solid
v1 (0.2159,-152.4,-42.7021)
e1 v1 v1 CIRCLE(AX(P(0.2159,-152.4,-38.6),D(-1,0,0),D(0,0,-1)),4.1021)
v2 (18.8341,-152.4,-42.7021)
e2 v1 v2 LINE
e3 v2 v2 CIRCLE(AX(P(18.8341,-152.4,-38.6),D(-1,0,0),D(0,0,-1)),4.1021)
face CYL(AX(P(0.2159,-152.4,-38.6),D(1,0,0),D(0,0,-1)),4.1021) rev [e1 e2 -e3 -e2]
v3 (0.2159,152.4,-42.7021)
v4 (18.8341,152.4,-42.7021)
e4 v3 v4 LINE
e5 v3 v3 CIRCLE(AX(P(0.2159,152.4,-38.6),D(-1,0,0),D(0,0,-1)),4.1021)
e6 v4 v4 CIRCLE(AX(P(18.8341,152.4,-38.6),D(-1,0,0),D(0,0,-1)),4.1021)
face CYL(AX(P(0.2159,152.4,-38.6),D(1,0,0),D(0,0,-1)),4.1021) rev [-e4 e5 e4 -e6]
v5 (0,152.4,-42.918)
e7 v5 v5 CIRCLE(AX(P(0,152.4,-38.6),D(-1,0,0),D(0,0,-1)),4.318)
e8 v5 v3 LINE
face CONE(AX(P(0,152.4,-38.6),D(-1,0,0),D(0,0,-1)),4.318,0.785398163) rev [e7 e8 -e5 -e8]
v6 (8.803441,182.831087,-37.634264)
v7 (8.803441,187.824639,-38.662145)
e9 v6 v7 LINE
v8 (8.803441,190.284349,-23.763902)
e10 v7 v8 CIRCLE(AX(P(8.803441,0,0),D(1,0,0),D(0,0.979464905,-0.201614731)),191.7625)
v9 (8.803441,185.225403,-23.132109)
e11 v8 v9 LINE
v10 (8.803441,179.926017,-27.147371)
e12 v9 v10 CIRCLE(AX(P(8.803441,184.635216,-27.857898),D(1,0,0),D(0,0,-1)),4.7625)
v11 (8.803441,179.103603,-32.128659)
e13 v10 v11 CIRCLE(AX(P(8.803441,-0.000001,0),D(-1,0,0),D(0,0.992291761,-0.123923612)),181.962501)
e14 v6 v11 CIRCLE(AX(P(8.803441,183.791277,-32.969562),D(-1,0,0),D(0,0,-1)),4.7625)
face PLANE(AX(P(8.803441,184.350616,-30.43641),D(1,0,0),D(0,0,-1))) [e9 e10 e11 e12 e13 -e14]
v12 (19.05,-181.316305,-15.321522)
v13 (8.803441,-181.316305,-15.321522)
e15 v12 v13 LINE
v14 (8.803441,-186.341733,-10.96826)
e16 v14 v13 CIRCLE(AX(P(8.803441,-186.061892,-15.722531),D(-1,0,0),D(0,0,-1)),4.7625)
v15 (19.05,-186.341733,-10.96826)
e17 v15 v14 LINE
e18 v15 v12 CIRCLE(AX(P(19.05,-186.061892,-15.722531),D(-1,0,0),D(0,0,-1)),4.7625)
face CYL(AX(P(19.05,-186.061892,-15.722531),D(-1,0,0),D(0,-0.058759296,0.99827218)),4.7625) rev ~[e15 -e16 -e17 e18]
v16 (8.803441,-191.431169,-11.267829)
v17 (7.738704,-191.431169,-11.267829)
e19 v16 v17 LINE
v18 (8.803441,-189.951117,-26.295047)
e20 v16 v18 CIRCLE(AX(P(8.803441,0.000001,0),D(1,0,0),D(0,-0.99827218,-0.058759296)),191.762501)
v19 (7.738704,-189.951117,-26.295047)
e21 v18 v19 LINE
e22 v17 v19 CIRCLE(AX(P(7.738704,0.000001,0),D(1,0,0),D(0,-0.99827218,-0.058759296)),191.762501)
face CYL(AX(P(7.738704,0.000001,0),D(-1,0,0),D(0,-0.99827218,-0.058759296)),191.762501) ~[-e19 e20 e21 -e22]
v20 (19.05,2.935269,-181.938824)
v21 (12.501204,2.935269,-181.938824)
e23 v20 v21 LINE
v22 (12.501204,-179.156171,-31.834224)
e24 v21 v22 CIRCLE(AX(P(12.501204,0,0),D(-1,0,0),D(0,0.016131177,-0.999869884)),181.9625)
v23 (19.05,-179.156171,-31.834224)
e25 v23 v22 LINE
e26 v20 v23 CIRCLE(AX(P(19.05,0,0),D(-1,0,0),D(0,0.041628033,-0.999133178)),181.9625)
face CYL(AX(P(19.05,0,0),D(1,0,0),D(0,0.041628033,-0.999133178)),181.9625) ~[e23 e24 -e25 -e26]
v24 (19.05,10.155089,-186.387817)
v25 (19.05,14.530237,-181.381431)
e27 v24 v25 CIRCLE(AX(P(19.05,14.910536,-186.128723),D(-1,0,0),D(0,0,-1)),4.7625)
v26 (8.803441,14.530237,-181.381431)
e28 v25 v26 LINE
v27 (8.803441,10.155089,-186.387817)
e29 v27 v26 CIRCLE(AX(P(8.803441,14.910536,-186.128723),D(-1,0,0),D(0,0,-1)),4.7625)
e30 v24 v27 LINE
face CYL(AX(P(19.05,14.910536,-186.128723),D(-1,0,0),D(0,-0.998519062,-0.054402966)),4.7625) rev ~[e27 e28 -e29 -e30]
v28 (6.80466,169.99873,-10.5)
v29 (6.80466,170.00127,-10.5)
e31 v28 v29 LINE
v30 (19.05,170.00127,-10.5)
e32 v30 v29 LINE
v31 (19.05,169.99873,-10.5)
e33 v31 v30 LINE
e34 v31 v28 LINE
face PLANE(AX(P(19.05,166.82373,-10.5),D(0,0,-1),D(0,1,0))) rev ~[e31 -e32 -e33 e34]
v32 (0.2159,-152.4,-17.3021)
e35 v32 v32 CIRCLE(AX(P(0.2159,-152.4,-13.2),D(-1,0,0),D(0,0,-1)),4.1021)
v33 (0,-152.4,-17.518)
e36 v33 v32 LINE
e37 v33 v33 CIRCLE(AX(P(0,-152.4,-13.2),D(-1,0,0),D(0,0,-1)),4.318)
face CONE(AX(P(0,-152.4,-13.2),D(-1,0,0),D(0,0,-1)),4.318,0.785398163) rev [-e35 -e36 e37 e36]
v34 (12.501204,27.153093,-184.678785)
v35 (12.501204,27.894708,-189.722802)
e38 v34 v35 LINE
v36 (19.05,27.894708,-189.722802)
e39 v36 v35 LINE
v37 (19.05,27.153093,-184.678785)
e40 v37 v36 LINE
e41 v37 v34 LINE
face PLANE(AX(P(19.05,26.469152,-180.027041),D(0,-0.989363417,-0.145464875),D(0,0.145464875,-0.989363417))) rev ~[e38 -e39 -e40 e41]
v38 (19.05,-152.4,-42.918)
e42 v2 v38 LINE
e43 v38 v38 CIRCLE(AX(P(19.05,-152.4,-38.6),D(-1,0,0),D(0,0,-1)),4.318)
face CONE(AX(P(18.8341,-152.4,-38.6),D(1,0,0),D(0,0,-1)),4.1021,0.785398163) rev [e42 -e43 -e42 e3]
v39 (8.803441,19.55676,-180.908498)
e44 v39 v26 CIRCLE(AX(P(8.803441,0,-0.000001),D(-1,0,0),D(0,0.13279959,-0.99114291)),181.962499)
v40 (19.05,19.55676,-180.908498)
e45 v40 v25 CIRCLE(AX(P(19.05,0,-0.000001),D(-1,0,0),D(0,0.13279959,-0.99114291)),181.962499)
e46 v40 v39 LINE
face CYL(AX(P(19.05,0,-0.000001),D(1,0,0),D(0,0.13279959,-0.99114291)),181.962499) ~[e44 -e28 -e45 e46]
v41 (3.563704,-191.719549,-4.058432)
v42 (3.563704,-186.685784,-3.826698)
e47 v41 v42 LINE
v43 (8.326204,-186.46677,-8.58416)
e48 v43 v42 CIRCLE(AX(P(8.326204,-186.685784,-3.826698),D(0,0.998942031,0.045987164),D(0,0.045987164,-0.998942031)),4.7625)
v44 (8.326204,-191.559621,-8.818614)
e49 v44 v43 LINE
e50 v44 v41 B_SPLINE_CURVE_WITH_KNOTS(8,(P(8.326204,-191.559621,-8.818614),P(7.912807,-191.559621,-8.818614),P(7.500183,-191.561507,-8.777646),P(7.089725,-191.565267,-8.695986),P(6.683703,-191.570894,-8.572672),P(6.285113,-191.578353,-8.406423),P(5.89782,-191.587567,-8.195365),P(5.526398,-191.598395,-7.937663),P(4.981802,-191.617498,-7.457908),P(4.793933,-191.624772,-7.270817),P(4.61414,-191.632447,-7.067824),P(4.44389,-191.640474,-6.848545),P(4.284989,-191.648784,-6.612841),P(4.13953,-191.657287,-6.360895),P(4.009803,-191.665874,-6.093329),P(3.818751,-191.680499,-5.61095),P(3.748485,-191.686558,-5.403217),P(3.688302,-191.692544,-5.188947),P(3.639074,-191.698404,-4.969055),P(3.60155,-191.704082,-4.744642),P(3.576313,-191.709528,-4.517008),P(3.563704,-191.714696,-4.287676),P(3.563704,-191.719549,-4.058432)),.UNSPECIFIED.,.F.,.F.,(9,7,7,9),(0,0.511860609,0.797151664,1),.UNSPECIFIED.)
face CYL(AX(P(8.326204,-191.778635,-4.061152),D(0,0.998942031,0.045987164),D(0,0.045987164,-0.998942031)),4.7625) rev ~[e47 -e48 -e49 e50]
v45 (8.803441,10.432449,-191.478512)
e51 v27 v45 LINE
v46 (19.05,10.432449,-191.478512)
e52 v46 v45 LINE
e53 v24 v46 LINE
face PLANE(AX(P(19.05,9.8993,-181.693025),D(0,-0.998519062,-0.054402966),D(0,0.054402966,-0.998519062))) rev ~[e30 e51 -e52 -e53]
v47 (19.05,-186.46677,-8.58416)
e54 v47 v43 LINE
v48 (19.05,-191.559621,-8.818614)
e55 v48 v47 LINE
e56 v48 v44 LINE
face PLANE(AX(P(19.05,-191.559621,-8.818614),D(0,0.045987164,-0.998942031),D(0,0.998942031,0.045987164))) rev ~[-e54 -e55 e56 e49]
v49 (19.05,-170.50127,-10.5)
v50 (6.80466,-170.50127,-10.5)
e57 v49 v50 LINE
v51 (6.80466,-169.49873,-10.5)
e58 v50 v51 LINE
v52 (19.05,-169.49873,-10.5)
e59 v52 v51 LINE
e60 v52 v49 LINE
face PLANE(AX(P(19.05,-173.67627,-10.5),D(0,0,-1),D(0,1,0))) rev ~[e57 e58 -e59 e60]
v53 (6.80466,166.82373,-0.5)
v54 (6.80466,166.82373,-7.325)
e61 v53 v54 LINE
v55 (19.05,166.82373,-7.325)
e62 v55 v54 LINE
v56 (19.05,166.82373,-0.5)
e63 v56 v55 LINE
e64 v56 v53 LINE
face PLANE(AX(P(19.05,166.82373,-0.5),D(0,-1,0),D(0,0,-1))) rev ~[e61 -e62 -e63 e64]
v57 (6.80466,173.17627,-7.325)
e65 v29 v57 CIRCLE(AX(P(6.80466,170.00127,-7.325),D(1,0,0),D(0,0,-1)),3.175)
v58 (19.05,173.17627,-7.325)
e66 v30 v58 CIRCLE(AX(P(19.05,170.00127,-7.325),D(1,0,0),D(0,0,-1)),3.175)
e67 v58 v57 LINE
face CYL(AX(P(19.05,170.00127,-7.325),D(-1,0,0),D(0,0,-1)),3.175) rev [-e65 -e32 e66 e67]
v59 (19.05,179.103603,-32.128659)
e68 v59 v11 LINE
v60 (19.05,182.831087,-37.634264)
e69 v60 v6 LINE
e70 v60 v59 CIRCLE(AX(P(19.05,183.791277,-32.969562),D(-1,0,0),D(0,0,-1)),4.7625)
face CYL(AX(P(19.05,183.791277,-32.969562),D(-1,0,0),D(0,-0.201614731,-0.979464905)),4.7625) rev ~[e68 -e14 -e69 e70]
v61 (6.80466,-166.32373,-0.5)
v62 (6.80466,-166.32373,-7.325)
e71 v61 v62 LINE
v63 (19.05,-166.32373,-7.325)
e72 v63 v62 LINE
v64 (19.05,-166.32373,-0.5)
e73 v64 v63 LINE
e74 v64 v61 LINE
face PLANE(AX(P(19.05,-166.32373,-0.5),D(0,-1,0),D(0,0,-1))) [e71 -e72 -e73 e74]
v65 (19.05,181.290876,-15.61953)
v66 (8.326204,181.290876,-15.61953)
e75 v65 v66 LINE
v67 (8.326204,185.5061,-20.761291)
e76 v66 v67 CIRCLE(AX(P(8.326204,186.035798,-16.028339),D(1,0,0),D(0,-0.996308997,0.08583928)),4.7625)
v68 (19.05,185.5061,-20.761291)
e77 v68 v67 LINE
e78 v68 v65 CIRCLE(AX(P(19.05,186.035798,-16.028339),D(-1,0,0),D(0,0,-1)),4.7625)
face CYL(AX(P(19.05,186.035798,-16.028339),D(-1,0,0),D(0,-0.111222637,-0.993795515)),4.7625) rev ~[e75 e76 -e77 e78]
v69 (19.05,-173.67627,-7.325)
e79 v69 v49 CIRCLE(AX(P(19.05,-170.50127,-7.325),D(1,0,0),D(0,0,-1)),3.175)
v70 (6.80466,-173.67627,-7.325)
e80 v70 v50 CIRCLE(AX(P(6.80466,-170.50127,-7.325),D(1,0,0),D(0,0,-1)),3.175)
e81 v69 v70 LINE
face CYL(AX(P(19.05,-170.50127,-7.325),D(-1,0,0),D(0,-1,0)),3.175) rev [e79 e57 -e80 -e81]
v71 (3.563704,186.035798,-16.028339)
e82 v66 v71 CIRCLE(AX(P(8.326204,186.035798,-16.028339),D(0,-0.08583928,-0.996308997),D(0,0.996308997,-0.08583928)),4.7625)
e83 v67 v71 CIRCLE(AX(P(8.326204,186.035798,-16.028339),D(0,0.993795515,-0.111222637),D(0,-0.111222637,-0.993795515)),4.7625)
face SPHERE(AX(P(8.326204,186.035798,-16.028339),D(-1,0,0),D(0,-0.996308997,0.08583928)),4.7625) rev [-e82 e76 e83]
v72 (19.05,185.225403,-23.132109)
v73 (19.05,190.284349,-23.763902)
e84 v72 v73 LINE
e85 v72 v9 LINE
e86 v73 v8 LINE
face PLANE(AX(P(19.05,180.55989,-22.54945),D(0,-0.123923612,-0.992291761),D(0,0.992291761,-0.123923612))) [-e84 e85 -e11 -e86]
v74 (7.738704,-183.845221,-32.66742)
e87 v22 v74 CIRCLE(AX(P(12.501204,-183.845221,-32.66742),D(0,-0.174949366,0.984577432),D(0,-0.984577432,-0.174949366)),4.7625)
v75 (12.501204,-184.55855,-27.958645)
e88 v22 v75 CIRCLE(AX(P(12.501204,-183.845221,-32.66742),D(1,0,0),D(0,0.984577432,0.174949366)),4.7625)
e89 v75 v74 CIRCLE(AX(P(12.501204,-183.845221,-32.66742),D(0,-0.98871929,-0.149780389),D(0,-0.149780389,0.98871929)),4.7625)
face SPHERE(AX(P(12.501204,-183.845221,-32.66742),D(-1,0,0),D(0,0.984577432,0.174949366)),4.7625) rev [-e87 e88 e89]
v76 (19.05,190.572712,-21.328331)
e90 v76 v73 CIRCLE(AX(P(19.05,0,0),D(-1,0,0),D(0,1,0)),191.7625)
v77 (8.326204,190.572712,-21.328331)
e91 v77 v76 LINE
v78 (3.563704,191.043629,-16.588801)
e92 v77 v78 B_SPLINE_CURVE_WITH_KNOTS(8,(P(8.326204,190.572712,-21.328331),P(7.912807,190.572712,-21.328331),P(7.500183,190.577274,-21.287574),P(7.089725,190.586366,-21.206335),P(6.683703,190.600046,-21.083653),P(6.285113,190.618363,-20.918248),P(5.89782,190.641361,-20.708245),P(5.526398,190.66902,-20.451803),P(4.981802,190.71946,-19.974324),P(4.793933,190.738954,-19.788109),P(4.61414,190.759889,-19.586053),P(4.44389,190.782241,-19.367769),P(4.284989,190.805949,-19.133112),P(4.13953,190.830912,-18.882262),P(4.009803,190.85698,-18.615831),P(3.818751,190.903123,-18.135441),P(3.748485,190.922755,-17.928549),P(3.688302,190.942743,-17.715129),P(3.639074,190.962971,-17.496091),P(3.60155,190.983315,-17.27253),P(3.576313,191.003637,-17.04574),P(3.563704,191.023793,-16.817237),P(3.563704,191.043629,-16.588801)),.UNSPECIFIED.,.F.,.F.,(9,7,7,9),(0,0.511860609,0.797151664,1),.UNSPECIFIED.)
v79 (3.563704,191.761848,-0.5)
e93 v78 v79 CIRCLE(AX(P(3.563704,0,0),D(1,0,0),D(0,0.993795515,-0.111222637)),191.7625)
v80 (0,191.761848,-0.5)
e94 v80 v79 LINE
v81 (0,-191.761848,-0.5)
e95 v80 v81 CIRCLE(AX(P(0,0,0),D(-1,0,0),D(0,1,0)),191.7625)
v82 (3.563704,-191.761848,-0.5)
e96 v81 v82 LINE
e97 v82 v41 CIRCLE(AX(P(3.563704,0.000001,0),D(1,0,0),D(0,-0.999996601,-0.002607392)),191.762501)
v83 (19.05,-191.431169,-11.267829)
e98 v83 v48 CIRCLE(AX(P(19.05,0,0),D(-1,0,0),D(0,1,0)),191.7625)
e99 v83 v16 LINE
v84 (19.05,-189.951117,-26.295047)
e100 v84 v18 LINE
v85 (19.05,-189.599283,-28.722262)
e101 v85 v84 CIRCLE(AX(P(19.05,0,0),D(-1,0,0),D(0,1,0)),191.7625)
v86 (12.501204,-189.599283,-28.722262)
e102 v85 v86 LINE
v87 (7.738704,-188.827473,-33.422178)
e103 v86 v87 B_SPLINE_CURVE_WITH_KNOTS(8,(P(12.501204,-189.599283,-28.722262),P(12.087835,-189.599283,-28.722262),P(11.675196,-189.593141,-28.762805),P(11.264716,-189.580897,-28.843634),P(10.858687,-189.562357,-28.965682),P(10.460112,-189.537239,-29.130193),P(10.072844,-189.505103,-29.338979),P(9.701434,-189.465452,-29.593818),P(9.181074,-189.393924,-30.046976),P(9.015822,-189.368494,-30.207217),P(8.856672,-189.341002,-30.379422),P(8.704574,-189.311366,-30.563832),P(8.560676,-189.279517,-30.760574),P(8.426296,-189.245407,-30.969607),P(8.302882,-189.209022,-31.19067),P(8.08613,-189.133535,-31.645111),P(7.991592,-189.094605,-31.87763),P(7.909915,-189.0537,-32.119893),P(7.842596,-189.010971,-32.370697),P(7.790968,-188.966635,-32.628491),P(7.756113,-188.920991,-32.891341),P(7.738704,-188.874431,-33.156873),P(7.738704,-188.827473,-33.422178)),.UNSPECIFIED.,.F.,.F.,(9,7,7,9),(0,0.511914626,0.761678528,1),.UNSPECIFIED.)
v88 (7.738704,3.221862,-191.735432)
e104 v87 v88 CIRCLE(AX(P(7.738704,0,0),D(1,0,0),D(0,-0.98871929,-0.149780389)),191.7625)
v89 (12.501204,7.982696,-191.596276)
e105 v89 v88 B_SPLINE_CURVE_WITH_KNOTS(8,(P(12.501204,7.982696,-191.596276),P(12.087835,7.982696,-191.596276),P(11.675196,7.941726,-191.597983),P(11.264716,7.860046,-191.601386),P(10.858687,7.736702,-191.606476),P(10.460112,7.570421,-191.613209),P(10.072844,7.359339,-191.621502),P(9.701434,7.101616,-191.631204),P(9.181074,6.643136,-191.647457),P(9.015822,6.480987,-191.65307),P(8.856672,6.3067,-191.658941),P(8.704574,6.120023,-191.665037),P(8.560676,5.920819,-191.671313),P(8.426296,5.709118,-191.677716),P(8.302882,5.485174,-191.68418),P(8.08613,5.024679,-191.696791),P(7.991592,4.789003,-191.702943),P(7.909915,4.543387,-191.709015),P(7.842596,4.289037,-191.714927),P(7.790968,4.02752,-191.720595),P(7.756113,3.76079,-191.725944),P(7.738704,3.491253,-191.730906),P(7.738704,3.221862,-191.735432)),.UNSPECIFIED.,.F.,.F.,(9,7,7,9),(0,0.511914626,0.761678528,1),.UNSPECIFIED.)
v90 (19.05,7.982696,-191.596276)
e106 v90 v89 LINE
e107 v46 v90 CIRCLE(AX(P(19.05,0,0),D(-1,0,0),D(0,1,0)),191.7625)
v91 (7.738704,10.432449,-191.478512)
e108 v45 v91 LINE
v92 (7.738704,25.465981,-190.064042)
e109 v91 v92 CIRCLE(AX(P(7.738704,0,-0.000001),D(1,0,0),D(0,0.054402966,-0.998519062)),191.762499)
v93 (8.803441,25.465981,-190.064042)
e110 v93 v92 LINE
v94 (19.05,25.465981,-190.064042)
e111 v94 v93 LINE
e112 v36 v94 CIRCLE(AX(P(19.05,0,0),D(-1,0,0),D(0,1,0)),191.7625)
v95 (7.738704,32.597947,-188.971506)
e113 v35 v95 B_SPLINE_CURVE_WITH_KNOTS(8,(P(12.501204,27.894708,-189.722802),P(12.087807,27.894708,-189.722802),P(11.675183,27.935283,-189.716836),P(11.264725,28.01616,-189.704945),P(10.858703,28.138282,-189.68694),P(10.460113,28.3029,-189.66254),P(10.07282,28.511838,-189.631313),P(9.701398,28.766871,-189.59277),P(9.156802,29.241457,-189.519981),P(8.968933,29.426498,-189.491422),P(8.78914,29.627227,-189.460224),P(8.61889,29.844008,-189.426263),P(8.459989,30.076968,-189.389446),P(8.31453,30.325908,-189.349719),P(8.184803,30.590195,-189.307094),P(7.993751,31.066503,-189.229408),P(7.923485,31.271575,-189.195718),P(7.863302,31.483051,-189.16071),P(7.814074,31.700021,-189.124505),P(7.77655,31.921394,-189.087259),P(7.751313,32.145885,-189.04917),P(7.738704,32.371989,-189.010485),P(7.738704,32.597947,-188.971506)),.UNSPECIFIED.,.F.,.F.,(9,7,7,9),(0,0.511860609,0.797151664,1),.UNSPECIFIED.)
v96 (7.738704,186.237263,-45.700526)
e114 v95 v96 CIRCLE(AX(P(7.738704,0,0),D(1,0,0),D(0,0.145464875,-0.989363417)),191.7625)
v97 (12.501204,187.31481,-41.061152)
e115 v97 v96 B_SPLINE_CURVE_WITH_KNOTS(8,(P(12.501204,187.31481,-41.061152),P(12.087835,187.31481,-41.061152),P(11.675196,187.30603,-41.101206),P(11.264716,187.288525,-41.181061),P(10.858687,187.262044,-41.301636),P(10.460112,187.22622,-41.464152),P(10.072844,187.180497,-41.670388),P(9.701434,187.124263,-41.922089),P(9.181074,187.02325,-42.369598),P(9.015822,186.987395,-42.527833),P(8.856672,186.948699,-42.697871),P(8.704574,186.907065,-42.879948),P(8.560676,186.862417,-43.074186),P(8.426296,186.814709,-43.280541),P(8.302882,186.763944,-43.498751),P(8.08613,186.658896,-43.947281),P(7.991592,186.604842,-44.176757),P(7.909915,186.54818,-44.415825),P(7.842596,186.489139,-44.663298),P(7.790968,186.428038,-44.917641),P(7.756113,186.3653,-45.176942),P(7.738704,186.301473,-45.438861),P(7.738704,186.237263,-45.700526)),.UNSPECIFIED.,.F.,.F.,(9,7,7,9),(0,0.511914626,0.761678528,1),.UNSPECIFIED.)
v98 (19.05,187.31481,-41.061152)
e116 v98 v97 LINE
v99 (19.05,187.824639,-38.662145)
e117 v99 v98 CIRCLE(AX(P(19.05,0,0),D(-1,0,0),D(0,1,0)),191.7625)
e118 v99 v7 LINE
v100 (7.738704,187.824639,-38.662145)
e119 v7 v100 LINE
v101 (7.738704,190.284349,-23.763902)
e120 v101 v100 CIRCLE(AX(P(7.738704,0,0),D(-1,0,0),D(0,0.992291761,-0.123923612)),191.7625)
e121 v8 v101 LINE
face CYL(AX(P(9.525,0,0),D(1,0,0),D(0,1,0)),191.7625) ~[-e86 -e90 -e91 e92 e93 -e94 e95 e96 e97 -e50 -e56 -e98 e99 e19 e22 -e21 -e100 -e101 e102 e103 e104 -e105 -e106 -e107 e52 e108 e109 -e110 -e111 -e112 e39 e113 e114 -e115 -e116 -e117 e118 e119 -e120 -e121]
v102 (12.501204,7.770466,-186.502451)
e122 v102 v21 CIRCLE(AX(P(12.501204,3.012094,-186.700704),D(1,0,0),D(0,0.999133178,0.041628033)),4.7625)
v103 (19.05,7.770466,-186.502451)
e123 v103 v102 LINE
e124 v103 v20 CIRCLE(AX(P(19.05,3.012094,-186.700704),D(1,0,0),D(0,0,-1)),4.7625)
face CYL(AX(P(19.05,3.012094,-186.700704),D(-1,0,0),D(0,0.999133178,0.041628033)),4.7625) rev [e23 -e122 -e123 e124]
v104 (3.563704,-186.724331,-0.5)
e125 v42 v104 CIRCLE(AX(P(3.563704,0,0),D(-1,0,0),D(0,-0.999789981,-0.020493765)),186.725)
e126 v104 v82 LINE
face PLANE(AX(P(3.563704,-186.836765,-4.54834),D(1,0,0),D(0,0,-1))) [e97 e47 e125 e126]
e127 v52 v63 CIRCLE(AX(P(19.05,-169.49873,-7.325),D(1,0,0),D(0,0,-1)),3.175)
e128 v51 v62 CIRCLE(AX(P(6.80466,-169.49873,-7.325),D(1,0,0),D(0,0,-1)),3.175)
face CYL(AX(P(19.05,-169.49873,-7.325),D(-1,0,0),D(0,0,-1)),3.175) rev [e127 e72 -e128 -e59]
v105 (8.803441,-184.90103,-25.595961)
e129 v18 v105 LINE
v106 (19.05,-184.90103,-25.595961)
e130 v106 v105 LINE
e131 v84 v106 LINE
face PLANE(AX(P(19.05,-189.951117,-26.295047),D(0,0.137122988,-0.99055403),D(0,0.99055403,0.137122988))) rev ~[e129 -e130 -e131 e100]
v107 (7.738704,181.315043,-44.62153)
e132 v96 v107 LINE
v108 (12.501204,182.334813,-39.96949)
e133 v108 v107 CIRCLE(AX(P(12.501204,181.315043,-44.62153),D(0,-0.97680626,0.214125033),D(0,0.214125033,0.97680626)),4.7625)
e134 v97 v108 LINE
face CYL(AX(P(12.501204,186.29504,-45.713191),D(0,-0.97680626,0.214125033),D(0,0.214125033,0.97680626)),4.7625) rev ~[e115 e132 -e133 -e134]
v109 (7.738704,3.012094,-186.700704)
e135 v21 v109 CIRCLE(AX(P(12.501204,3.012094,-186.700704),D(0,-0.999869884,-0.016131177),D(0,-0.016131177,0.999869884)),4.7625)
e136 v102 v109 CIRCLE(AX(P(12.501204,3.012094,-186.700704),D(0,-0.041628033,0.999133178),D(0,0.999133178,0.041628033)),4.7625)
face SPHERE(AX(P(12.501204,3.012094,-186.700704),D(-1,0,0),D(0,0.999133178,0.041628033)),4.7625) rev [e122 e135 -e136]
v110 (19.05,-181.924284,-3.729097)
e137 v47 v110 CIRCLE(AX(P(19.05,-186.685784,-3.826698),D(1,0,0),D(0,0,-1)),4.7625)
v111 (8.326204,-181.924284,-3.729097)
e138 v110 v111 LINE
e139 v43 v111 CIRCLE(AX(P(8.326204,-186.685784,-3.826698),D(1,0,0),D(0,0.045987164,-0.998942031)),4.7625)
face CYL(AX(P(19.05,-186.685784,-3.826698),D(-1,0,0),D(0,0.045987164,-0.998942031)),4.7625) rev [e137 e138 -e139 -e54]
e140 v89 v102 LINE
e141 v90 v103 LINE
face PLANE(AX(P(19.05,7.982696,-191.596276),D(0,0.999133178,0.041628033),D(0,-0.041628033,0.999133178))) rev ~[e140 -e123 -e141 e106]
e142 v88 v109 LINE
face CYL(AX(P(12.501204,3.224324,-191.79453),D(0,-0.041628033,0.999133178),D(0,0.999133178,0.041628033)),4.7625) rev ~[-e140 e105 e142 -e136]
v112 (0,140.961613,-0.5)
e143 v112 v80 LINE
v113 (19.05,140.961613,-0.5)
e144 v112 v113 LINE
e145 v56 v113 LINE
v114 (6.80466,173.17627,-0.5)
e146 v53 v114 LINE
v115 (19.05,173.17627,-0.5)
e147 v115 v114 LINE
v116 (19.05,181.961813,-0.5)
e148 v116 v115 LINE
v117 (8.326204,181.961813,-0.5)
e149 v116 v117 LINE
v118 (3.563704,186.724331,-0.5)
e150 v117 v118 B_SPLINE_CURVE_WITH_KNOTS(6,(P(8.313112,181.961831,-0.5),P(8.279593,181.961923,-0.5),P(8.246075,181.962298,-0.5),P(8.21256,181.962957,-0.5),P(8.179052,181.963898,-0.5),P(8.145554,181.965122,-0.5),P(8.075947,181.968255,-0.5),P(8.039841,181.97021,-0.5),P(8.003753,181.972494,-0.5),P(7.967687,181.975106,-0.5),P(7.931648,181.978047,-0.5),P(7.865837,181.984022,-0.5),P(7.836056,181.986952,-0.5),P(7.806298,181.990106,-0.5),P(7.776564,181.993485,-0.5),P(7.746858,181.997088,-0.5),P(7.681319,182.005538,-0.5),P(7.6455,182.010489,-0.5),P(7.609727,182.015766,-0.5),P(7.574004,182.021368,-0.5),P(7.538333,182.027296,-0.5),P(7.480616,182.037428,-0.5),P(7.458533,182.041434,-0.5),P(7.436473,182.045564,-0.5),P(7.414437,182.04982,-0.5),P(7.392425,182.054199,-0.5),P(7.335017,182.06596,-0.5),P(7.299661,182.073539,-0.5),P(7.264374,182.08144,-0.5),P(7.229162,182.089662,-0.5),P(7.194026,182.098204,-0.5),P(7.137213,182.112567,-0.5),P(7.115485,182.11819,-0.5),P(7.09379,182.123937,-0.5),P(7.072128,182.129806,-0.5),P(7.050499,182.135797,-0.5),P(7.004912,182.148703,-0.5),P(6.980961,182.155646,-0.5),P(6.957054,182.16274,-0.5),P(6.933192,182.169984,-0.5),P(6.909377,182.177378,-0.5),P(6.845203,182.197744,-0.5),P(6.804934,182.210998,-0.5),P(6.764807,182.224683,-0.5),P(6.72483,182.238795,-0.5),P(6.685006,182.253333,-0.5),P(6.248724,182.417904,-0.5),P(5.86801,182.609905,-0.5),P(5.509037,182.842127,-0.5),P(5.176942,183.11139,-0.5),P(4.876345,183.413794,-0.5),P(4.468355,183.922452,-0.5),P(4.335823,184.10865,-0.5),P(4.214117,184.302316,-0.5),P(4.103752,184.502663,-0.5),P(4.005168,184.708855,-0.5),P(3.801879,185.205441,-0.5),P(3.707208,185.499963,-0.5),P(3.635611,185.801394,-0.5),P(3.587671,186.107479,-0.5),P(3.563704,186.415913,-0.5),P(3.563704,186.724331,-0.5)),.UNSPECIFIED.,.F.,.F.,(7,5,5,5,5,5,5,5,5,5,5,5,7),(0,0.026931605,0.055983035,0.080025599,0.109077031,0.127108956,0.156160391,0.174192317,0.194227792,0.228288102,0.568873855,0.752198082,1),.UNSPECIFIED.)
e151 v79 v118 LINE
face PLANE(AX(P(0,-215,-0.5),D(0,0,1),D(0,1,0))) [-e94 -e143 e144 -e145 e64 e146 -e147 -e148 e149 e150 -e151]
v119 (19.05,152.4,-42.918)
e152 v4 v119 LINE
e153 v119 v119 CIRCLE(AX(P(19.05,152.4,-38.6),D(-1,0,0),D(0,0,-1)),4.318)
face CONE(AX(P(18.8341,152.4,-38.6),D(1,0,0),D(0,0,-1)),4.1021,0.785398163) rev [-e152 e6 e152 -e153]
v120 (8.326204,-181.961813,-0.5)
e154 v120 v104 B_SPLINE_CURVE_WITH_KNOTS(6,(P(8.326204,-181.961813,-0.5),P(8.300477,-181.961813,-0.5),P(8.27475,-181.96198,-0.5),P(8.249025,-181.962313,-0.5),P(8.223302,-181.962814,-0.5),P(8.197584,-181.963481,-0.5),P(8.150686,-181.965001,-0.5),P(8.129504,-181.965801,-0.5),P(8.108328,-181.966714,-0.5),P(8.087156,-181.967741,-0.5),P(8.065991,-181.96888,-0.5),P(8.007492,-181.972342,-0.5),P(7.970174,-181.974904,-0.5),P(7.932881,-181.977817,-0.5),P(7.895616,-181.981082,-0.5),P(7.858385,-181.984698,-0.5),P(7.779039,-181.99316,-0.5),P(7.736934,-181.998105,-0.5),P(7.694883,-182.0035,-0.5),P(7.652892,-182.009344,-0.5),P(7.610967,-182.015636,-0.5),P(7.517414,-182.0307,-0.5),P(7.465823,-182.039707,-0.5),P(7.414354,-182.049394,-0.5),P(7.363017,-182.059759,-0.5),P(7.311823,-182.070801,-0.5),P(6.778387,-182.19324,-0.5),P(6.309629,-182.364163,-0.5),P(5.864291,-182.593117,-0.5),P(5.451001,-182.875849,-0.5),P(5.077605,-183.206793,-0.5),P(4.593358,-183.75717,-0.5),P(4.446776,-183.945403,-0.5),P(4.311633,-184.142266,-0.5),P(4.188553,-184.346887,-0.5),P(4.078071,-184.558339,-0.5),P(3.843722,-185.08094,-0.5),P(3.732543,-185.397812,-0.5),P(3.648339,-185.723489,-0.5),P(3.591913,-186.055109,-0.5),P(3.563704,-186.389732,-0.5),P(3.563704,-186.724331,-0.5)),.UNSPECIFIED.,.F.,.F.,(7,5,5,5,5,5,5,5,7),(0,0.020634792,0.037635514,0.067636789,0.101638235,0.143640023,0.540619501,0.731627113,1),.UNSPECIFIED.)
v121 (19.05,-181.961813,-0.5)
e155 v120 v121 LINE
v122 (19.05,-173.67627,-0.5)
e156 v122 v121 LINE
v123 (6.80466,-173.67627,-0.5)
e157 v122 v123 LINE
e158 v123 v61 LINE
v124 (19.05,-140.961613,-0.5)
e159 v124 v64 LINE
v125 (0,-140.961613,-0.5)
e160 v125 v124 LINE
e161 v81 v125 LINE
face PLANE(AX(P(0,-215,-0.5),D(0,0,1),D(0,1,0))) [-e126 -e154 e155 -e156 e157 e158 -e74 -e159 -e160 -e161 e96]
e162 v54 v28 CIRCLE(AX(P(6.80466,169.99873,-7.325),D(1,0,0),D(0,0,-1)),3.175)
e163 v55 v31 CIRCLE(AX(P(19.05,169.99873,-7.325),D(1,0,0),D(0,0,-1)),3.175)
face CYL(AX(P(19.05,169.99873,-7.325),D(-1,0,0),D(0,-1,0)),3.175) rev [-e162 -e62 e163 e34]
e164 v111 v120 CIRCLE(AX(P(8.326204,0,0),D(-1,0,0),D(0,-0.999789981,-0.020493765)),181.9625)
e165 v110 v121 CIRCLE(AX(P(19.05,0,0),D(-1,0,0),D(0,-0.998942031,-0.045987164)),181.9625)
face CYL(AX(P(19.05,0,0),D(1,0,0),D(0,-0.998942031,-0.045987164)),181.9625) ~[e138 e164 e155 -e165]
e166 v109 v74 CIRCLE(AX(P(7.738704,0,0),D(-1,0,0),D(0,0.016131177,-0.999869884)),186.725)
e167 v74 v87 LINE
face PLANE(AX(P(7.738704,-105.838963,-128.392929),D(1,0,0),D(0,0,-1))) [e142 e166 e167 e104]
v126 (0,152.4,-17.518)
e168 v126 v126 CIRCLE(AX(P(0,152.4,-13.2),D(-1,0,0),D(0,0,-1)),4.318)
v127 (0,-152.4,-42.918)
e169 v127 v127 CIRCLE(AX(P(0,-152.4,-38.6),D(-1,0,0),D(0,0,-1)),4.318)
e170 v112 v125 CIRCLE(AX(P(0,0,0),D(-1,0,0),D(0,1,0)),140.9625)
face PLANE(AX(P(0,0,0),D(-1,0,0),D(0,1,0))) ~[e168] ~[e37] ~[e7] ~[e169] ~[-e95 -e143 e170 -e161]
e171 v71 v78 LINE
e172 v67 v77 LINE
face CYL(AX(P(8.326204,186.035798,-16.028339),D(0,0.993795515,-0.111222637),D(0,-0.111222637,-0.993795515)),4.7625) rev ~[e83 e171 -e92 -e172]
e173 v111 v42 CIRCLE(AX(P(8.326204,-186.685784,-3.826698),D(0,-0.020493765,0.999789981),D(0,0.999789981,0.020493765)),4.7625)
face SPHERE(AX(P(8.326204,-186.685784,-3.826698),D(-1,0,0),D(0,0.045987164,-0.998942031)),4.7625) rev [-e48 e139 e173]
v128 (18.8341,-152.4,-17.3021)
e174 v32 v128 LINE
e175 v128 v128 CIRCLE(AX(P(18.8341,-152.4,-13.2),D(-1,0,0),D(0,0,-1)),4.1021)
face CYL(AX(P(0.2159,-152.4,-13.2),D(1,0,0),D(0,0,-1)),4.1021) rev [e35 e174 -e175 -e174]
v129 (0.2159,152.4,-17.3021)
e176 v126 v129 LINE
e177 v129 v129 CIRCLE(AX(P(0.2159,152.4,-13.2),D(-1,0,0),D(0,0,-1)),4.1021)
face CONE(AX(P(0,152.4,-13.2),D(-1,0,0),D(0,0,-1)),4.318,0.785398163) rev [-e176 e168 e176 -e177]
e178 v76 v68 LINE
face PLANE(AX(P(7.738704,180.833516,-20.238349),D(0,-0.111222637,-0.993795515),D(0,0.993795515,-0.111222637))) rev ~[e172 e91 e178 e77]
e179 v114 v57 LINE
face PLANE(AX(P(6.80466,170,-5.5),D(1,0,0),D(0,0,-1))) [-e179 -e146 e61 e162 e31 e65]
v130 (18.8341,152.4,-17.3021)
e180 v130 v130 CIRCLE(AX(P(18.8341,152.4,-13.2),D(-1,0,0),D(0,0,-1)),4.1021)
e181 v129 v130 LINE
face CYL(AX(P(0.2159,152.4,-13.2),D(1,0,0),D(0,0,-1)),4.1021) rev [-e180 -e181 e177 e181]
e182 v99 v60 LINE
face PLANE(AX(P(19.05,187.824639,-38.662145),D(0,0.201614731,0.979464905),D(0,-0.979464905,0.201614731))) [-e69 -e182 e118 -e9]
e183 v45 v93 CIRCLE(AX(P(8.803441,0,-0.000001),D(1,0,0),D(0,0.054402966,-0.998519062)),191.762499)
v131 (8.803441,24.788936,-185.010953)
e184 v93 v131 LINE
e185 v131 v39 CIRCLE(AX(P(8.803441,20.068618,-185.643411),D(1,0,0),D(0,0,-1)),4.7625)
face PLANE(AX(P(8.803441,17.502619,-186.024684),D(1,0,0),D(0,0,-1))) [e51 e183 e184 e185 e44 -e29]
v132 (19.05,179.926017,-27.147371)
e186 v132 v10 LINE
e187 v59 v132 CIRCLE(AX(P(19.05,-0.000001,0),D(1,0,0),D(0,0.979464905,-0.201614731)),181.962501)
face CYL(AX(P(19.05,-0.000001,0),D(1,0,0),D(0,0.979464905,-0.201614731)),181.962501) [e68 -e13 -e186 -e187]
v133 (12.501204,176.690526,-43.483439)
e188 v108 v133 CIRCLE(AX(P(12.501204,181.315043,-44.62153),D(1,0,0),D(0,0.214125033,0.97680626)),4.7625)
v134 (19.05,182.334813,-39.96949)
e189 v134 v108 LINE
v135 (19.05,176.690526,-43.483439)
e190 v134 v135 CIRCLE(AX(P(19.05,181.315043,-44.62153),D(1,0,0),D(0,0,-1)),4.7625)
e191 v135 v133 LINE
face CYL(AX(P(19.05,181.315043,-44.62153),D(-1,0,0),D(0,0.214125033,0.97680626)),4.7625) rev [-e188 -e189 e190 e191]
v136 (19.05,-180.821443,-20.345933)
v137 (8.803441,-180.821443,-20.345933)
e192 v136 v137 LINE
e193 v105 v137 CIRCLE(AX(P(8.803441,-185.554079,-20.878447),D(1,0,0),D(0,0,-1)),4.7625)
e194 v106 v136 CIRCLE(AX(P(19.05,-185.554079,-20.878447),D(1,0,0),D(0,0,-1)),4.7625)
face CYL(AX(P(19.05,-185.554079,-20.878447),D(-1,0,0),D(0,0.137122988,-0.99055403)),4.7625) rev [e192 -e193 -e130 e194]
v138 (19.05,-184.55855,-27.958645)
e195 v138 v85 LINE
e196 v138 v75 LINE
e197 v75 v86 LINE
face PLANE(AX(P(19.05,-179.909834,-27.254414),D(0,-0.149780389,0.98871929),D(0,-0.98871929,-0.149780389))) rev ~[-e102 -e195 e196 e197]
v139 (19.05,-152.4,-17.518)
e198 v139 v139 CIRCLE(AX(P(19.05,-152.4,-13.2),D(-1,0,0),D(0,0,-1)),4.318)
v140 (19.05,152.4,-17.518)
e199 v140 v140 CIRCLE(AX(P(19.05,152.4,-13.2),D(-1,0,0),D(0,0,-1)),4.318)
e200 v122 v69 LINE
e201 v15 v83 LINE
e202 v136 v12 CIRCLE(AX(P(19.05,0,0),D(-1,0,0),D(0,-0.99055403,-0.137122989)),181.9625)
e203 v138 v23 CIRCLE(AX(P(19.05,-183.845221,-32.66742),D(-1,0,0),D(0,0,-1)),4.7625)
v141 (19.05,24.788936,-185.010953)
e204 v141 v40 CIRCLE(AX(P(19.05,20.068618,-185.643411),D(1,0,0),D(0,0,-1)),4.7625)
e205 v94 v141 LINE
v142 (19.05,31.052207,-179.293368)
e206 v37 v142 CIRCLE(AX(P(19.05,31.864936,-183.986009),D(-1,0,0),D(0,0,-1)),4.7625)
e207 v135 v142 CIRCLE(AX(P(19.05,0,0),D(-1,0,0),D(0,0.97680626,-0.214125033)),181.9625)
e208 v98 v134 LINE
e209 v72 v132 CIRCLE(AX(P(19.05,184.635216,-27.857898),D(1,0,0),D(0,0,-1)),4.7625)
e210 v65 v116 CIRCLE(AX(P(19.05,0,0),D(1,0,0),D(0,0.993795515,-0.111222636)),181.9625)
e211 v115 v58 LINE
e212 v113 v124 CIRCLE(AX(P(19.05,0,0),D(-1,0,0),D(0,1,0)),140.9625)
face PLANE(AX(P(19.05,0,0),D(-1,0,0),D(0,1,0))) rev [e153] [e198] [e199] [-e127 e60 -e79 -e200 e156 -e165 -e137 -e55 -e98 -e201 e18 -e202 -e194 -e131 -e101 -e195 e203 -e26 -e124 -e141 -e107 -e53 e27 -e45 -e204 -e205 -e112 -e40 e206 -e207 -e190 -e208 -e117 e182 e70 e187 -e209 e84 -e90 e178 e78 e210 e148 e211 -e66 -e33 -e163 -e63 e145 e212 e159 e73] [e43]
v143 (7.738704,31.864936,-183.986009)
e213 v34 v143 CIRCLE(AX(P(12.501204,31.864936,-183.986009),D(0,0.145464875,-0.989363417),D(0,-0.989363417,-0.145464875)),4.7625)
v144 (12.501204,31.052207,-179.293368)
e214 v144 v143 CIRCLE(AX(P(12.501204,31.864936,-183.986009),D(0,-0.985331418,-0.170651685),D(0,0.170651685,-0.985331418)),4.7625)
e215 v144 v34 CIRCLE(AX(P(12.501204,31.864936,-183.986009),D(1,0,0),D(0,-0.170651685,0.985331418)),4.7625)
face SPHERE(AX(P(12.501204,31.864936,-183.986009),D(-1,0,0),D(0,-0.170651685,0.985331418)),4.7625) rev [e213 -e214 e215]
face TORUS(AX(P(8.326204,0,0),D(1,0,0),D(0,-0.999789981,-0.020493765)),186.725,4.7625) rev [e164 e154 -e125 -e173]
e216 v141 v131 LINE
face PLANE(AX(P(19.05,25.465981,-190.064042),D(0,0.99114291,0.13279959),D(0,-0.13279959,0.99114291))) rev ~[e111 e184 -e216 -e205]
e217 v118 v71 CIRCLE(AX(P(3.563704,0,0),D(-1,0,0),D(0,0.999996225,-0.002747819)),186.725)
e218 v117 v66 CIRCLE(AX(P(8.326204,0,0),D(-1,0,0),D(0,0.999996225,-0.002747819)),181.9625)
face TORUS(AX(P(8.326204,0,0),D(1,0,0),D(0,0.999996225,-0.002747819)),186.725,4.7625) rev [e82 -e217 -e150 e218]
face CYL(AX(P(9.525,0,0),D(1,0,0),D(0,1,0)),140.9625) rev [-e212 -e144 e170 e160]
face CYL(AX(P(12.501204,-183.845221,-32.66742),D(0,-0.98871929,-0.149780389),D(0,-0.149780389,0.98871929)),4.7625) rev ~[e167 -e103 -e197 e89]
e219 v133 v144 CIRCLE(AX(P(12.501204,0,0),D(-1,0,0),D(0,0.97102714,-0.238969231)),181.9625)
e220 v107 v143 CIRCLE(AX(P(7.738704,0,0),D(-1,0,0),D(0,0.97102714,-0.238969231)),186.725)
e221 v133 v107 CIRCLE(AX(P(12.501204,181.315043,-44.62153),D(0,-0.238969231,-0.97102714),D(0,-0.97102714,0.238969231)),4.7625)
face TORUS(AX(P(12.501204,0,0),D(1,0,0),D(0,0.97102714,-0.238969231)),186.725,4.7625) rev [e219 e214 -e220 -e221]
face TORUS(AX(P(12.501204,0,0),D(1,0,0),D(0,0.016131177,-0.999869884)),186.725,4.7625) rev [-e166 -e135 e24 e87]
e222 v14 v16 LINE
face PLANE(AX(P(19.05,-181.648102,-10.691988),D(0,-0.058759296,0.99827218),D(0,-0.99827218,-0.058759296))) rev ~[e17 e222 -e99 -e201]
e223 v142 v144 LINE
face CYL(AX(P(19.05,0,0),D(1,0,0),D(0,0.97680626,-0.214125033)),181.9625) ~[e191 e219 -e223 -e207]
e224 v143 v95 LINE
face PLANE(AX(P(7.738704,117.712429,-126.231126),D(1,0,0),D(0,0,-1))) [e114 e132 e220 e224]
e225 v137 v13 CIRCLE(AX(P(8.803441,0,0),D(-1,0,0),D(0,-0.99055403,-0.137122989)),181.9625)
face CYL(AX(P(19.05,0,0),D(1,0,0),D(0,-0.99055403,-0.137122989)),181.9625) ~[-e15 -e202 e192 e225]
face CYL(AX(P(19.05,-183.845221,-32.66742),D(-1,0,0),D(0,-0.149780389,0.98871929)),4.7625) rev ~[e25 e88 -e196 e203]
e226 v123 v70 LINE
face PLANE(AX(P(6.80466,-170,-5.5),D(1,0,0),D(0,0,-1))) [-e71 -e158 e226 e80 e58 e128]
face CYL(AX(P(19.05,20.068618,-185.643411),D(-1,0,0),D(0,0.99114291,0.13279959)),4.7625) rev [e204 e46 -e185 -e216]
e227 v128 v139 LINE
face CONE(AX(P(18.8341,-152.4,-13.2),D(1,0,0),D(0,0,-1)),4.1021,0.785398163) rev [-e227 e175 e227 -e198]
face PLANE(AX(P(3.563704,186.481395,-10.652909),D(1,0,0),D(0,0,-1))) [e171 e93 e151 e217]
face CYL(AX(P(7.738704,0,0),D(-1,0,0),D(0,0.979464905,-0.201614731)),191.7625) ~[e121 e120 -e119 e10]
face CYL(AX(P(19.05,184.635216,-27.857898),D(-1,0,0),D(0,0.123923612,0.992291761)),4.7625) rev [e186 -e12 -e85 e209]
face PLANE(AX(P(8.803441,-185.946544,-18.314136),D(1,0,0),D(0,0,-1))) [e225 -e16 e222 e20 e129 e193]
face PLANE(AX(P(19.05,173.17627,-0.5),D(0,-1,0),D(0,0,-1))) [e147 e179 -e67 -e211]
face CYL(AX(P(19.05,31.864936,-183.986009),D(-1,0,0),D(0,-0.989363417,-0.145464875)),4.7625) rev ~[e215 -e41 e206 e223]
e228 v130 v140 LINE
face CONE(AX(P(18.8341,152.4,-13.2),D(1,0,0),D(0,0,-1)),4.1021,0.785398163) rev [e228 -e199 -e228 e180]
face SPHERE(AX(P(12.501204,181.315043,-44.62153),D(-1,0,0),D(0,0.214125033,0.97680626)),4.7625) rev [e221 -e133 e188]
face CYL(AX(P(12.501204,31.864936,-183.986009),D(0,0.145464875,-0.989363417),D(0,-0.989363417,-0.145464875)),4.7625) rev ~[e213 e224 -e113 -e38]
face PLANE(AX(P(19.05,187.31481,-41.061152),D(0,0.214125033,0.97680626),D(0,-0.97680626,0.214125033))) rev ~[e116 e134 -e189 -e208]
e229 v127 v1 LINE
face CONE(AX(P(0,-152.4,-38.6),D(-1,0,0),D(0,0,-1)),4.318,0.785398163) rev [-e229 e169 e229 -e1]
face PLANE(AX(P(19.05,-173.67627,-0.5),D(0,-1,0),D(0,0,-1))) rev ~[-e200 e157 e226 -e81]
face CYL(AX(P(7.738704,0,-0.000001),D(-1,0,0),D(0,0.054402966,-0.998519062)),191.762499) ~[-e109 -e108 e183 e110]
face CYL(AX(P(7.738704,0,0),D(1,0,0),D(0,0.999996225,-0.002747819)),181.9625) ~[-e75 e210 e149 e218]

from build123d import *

# Parameters (mm, degrees)
SKETCH1_W                         = 19.05
SKETCH1_H                         = 50.8
REVOLVE_THIN1_ANGLE               = 180
SKETCH81_W                        = 0.5
SKETCH81_H                        = 430
EXTRUDE1_DEPTH                    = 20.05
F_5_16_CLEARANCE_HOLE1_AT_2_COUNT = 2
F_5_16_CLEARANCE_HOLE1_AT_2_PITCH = 25.4
F_5_16_CLEARANCE_HOLE1_AT_3_COUNT = 2
F_5_16_CLEARANCE_HOLE1_AT_3_PITCH = 304.8
F_5_16_CLEARANCE_HOLE1_AT_4_COUNT = 2
F_5_16_CLEARANCE_HOLE1_AT_4_PITCH = 305.856502301
CUT_EXTRUDE1_DEPTH                = 11.311296
CUT_EXTRUDE2_DEPTH                = 4.175
BOSS_EXTRUDE1_DEPTH               = 1.064737
FILLET1_R                         = 4.7625
FILLET2_R                         = 4.7625
SKETCH90_W                        = 10
SKETCH90_H                        = 6.35254
CUT_EXTRUDE3_DEPTH                = 12.24534
SKETCH91_W                        = 10
SKETCH91_H                        = 7.35254
CUT_EXTRUDE4_DEPTH                = 12.24534
FILLET3_R                         = 3.175


with BuildPart() as part:
    # Sketch1 → Revolve-Thin1 (revolve)
    with BuildSketch(Plane.XY):
        with Locations((9.525, 166.3625)):
            Rectangle(SKETCH1_W, SKETCH1_H)
    revolve(axis=Axis((0, 0, 0), (-1, 0, 0)), revolution_arc=REVOLVE_THIN1_ANGLE)

    # Sketch81 → Extrude1 (cut, through all)
    with BuildSketch(Plane(origin=(0, 0, 0), x_dir=(0, 0, -1), z_dir=(1, 0, 0))):
        with Locations((0.25, 0)):
            Rectangle(SKETCH81_W, SKETCH81_H)
    extrude(amount=EXTRUDE1_DEPTH, mode=Mode.SUBTRACT)

    # Sketch83 → 5_16 Clearance Hole1 (revolve, cut)
    with BuildSketch(Plane(origin=(19.05, 152.4, -38.6), x_dir=(0, 0, -1), z_dir=(0, 1, 0))):
        Polygon((0, 0), (0, 19.05), (4.318, 19.05), (4.1021, 18.8341), (4.1021, 0.2159), (4.318, 0), align=None)
    f_5_16_clearance_hole1 = revolve(axis=Axis((25.4, 152.4, -38.6), (-1, 0, 0)), mode=Mode.SUBTRACT)

    # 5_16 Clearance Hole1 at 2: 5_16 Clearance Hole1 ×2
    with Locations(*[(0, 0, i * F_5_16_CLEARANCE_HOLE1_AT_2_PITCH) for i in range(1, F_5_16_CLEARANCE_HOLE1_AT_2_COUNT)]):
        add(f_5_16_clearance_hole1, mode=Mode.SUBTRACT)

    # 5_16 Clearance Hole1 at 3: 5_16 Clearance Hole1 ×2
    with Locations(*[(0, -i * F_5_16_CLEARANCE_HOLE1_AT_3_PITCH, 0) for i in range(1, F_5_16_CLEARANCE_HOLE1_AT_3_COUNT)]):
        add(f_5_16_clearance_hole1, mode=Mode.SUBTRACT)

    # 5_16 Clearance Hole1 at 4: 5_16 Clearance Hole1 ×2
    with Locations(*[Vector(0, -0.996545758, 0.08304548) * (i * F_5_16_CLEARANCE_HOLE1_AT_4_PITCH) for i in range(1, F_5_16_CLEARANCE_HOLE1_AT_4_COUNT)]):
        add(f_5_16_clearance_hole1, mode=Mode.SUBTRACT)

    # Sketch87 → Cut-Extrude1 (cut)
    with BuildSketch(Plane(origin=(19.05, 0, 0), x_dir=(0, 0, -1), z_dir=(1, 0, 0))):
        with BuildLine():
            Line((0.5, -181.961813044), (0.5, -191.761848151))
            ThreePointArc((0.5, -191.761848151), (4.660403781, -191.705860742), (8.818613515, -191.559621168))
            Line((8.818613515, -191.559621168), (8.367939309, -181.769989267))
            ThreePointArc((8.367939309, -181.769989267), (4.435006876, -181.908444335), (0.5, -181.961813044))
        make_face()
        with BuildLine():
            Line((0.5, 181.961813044), (0.5, 191.761848151))
            ThreePointArc((0.5, 191.761848151), (10.930348477, 191.450734886), (21.328330845, 190.572712395))
            Line((21.328330845, 190.572712395), (20.238349007, 180.833516351))
            ThreePointArc((20.238349007, 180.833516351), (10.384509774, 181.665938918), (0.5, 181.961813044))
        make_face()
        with BuildLine():
            Line((10.691988388, -181.648101533), (11.267829489, -191.431168896))
            ThreePointArc((11.267829489, -191.431168896), (18.796011872, -190.839111148), (26.295047079, -189.951117147))
            Line((26.295047079, -189.951117147), (24.951241792, -180.243687654))
            ThreePointArc((24.951241792, -180.243687654), (17.835443897, -181.086300827), (10.691988388, -181.648101533))
        make_face()
        with BuildLine():
            Line((27.254414037, -179.909833866), (28.72226185, -189.599282911))
            ThreePointArc((28.72226185, -189.599282911), (147.968659172, -121.975949716), (191.596275996, 7.982695695))
            Line((191.596275996, 7.982695695), (181.804770855, 7.574740971))
            ThreePointArc((181.804770855, 7.574740971), (140.406738255, -115.742383157), (27.254414037, -179.909833866))
        make_face()
        with BuildLine():
            Line((180.027040692, 26.469152346), (189.722802175, 27.894708123))
            ThreePointArc((189.722802175, 27.894708123), (140.246214207, 130.781710521), (41.061151684, 187.314810489))
            Line((41.061151684, 187.314810489), (38.962726359, 177.742109138))
            ThreePointArc((38.962726359, 177.742109138), (133.078947931, 124.098126593), (180.027040692, 26.469152346))
        make_face()
        with BuildLine():
            Line((22.54945028, 180.559889506), (23.763901679, 190.284348761))
            ThreePointArc((23.763901679, 190.284348761), (31.237243217, 189.201191969), (38.662144827, 187.824638862))
            Line((38.662144827, 187.824638862), (36.686320465, 178.225882792))
            ThreePointArc((36.686320465, 178.225882792), (29.640867578, 179.532087314), (22.54945028, 180.559889506))
        make_face()
        with BuildLine():
            Line((181.693024826, 9.89929976), (191.478511634, 10.43244883))
            ThreePointArc((191.478511634, 10.43244883), (190.919307311, 17.963142882), (190.064042372, 25.465981296))
            Line((190.064042372, 25.465981296), (180.350841849, 24.164545318))
            ThreePointArc((180.350841849, 24.164545318), (181.162398574, 17.045138579), (181.693024826, 9.89929976))
        make_face()
    extrude(amount=-CUT_EXTRUDE1_DEPTH, mode=Mode.SUBTRACT)

    # Sketch88 → Cut-Extrude2 (cut)
    with BuildSketch(Plane(origin=(7.738704, 0, 0), x_dir=(0, 0, -1), z_dir=(1, 0, 0))):
        with BuildLine():
            Line((8.818613515, -191.559621168), (8.367939309, -181.769989267))
            ThreePointArc((8.367939309, -181.769989267), (4.435006876, -181.908444335), (0.5, -181.961813044))
            Line((0.5, -181.961813044), (0.5, -191.761848151))
            ThreePointArc((0.5, -191.761848151), (4.660403781, -191.705860742), (8.818613515, -191.559621168))
        make_face()
        with BuildLine():
            Line((0.5, 191.761848151), (0.5, 181.961813044))
            ThreePointArc((0.5, 181.961813044), (10.384509774, 181.665938918), (20.238349007, 180.833516351))
            Line((20.238349007, 180.833516351), (21.328330845, 190.572712395))
            ThreePointArc((21.328330845, 190.572712395), (10.930348477, 191.450734886), (0.5, 191.761848151))
        make_face()
    extrude(amount=-CUT_EXTRUDE2_DEPTH, mode=Mode.SUBTRACT)

    # Sketch89 → Boss-Extrude1 (add)
    with BuildSketch(Plane(origin=(7.738704, 0, 0), x_dir=(0, 0, -1), z_dir=(1, 0, 0))):
        with BuildLine():
            Line((23.763901679, 190.284348761), (22.54945028, 180.559889506))
            ThreePointArc((22.54945028, 180.559889506), (29.640867578, 179.532087314), (36.686320465, 178.225882792))
            Line((36.686320465, 178.225882792), (38.662144827, 187.824638862))
            ThreePointArc((38.662144827, 187.824638862), (31.237243217, 189.201191969), (23.763901679, 190.284348761))
        make_face()
        with BuildLine():
            Line((190.064042372, 25.465981296), (180.350841849, 24.164545318))
            ThreePointArc((180.350841849, 24.164545318), (181.162398574, 17.045138579), (181.693024826, 9.89929976))
            Line((181.693024826, 9.89929976), (191.478511634, 10.43244883))
            ThreePointArc((191.478511634, 10.43244883), (190.919307311, 17.963142882), (190.064042372, 25.465981296))
        make_face()
        with BuildLine():
            Line((26.295047079, -189.951117147), (24.951241792, -180.243687654))
            ThreePointArc((24.951241792, -180.243687654), (17.835443897, -181.086300827), (10.691988388, -181.648101533))
            Line((10.691988388, -181.648101533), (11.267829489, -191.431168896))
            ThreePointArc((11.267829489, -191.431168896), (18.796011872, -190.839111148), (26.295047079, -189.951117147))
        make_face()
    extrude(amount=BOSS_EXTRUDE1_DEPTH)

    # Fillet1
    fillet1_edges = [part.edges().sort_by_distance(p)[0] for p in [
        (11.306852, -181.769989267, -8.367939309),
        (11.306852, 180.833516351, -20.238349007),
        (13.394352, -179.909833866, -27.254414037),
        (13.394352, 7.574740971, -181.804770855),
        (13.394352, 26.469152346, -180.027040692),
        (13.394352, 177.742109138, -38.962726359),
        (13.9267205, 180.559889506, -22.54945028),
        (13.9267205, 178.225882792, -36.686320465),
        (13.9267205, 24.164545318, -180.350841849),
        (13.9267205, 9.89929976, -181.693024826),
        (13.9267205, -180.243687654, -24.951241792),
        (13.9267205, -181.648101533, -10.691988388),
    ]]
    fillet(fillet1_edges, radius=FILLET1_R)

    # Fillet2
    fillet2_edges = [part.edges().sort_by_distance(p)[0] for p in [
        (7.738704, 7.876580746, -189.049363299),
        (7.738704, 184.824811835, -40.51532078),
        (3.563704, -189.013195727, -8.701386609),
        (3.563704, 181.783605025, -8.066743481),
        (3.563704, 188.039406053, -21.044810738),
        (3.563704, 182.35275146, -19.047706642),
        (7.738704, 124.098126593, -133.078947931),
        (7.738704, 27.523900361, -187.200793793),
        (7.738704, 28.007358428, -181.193070969),
        (7.738704, 178.797999192, -40.578523608),
        (3.563704, -181.950212254, -2.114631617),
        (3.563704, -183.20809984, -7.080483471),
        (7.738704, -187.078916486, -28.340453315),
        (7.738704, -115.742383157, -140.406738255),
        (7.738704, 6.281022467, -183.237250171),
        (7.738704, -181.069141374, -28.797693227),
    ]]
    fillet(fillet2_edges, radius=FILLET2_R)

    # Sketch90 → Cut-Extrude3 (cut)
    with BuildSketch(Plane(origin=(19.05, 0, 0), x_dir=(0, 0, -1), z_dir=(1, 0, 0))):
        with Locations((5.5, 170)):
            Rectangle(SKETCH90_W, SKETCH90_H)
        with Locations((5.5, -170)):
            Rectangle(SKETCH90_W, SKETCH90_H)
    extrude(amount=-CUT_EXTRUDE3_DEPTH, mode=Mode.SUBTRACT)

    # Sketch91 → Cut-Extrude4 (cut)
    with BuildSketch(Plane(origin=(19.05, 0, 0), x_dir=(0, 0, -1), z_dir=(1, 0, 0))):
        with Locations((5.5, -170)):
            Rectangle(SKETCH91_W, SKETCH91_H)
    extrude(amount=-CUT_EXTRUDE4_DEPTH, mode=Mode.SUBTRACT)

    # Fillet3
    fillet3_edges = [part.edges().sort_by_distance(p)[0] for p in [
        (12.92733, 173.17627, -10.5),
        (12.92733, 166.82373, -10.5),
        (12.92733, -166.32373, -10.5),
        (12.92733, -173.67627, -10.5),
    ]]
    fillet(fillet3_edges, radius=FILLET3_R)


solid = part.part
